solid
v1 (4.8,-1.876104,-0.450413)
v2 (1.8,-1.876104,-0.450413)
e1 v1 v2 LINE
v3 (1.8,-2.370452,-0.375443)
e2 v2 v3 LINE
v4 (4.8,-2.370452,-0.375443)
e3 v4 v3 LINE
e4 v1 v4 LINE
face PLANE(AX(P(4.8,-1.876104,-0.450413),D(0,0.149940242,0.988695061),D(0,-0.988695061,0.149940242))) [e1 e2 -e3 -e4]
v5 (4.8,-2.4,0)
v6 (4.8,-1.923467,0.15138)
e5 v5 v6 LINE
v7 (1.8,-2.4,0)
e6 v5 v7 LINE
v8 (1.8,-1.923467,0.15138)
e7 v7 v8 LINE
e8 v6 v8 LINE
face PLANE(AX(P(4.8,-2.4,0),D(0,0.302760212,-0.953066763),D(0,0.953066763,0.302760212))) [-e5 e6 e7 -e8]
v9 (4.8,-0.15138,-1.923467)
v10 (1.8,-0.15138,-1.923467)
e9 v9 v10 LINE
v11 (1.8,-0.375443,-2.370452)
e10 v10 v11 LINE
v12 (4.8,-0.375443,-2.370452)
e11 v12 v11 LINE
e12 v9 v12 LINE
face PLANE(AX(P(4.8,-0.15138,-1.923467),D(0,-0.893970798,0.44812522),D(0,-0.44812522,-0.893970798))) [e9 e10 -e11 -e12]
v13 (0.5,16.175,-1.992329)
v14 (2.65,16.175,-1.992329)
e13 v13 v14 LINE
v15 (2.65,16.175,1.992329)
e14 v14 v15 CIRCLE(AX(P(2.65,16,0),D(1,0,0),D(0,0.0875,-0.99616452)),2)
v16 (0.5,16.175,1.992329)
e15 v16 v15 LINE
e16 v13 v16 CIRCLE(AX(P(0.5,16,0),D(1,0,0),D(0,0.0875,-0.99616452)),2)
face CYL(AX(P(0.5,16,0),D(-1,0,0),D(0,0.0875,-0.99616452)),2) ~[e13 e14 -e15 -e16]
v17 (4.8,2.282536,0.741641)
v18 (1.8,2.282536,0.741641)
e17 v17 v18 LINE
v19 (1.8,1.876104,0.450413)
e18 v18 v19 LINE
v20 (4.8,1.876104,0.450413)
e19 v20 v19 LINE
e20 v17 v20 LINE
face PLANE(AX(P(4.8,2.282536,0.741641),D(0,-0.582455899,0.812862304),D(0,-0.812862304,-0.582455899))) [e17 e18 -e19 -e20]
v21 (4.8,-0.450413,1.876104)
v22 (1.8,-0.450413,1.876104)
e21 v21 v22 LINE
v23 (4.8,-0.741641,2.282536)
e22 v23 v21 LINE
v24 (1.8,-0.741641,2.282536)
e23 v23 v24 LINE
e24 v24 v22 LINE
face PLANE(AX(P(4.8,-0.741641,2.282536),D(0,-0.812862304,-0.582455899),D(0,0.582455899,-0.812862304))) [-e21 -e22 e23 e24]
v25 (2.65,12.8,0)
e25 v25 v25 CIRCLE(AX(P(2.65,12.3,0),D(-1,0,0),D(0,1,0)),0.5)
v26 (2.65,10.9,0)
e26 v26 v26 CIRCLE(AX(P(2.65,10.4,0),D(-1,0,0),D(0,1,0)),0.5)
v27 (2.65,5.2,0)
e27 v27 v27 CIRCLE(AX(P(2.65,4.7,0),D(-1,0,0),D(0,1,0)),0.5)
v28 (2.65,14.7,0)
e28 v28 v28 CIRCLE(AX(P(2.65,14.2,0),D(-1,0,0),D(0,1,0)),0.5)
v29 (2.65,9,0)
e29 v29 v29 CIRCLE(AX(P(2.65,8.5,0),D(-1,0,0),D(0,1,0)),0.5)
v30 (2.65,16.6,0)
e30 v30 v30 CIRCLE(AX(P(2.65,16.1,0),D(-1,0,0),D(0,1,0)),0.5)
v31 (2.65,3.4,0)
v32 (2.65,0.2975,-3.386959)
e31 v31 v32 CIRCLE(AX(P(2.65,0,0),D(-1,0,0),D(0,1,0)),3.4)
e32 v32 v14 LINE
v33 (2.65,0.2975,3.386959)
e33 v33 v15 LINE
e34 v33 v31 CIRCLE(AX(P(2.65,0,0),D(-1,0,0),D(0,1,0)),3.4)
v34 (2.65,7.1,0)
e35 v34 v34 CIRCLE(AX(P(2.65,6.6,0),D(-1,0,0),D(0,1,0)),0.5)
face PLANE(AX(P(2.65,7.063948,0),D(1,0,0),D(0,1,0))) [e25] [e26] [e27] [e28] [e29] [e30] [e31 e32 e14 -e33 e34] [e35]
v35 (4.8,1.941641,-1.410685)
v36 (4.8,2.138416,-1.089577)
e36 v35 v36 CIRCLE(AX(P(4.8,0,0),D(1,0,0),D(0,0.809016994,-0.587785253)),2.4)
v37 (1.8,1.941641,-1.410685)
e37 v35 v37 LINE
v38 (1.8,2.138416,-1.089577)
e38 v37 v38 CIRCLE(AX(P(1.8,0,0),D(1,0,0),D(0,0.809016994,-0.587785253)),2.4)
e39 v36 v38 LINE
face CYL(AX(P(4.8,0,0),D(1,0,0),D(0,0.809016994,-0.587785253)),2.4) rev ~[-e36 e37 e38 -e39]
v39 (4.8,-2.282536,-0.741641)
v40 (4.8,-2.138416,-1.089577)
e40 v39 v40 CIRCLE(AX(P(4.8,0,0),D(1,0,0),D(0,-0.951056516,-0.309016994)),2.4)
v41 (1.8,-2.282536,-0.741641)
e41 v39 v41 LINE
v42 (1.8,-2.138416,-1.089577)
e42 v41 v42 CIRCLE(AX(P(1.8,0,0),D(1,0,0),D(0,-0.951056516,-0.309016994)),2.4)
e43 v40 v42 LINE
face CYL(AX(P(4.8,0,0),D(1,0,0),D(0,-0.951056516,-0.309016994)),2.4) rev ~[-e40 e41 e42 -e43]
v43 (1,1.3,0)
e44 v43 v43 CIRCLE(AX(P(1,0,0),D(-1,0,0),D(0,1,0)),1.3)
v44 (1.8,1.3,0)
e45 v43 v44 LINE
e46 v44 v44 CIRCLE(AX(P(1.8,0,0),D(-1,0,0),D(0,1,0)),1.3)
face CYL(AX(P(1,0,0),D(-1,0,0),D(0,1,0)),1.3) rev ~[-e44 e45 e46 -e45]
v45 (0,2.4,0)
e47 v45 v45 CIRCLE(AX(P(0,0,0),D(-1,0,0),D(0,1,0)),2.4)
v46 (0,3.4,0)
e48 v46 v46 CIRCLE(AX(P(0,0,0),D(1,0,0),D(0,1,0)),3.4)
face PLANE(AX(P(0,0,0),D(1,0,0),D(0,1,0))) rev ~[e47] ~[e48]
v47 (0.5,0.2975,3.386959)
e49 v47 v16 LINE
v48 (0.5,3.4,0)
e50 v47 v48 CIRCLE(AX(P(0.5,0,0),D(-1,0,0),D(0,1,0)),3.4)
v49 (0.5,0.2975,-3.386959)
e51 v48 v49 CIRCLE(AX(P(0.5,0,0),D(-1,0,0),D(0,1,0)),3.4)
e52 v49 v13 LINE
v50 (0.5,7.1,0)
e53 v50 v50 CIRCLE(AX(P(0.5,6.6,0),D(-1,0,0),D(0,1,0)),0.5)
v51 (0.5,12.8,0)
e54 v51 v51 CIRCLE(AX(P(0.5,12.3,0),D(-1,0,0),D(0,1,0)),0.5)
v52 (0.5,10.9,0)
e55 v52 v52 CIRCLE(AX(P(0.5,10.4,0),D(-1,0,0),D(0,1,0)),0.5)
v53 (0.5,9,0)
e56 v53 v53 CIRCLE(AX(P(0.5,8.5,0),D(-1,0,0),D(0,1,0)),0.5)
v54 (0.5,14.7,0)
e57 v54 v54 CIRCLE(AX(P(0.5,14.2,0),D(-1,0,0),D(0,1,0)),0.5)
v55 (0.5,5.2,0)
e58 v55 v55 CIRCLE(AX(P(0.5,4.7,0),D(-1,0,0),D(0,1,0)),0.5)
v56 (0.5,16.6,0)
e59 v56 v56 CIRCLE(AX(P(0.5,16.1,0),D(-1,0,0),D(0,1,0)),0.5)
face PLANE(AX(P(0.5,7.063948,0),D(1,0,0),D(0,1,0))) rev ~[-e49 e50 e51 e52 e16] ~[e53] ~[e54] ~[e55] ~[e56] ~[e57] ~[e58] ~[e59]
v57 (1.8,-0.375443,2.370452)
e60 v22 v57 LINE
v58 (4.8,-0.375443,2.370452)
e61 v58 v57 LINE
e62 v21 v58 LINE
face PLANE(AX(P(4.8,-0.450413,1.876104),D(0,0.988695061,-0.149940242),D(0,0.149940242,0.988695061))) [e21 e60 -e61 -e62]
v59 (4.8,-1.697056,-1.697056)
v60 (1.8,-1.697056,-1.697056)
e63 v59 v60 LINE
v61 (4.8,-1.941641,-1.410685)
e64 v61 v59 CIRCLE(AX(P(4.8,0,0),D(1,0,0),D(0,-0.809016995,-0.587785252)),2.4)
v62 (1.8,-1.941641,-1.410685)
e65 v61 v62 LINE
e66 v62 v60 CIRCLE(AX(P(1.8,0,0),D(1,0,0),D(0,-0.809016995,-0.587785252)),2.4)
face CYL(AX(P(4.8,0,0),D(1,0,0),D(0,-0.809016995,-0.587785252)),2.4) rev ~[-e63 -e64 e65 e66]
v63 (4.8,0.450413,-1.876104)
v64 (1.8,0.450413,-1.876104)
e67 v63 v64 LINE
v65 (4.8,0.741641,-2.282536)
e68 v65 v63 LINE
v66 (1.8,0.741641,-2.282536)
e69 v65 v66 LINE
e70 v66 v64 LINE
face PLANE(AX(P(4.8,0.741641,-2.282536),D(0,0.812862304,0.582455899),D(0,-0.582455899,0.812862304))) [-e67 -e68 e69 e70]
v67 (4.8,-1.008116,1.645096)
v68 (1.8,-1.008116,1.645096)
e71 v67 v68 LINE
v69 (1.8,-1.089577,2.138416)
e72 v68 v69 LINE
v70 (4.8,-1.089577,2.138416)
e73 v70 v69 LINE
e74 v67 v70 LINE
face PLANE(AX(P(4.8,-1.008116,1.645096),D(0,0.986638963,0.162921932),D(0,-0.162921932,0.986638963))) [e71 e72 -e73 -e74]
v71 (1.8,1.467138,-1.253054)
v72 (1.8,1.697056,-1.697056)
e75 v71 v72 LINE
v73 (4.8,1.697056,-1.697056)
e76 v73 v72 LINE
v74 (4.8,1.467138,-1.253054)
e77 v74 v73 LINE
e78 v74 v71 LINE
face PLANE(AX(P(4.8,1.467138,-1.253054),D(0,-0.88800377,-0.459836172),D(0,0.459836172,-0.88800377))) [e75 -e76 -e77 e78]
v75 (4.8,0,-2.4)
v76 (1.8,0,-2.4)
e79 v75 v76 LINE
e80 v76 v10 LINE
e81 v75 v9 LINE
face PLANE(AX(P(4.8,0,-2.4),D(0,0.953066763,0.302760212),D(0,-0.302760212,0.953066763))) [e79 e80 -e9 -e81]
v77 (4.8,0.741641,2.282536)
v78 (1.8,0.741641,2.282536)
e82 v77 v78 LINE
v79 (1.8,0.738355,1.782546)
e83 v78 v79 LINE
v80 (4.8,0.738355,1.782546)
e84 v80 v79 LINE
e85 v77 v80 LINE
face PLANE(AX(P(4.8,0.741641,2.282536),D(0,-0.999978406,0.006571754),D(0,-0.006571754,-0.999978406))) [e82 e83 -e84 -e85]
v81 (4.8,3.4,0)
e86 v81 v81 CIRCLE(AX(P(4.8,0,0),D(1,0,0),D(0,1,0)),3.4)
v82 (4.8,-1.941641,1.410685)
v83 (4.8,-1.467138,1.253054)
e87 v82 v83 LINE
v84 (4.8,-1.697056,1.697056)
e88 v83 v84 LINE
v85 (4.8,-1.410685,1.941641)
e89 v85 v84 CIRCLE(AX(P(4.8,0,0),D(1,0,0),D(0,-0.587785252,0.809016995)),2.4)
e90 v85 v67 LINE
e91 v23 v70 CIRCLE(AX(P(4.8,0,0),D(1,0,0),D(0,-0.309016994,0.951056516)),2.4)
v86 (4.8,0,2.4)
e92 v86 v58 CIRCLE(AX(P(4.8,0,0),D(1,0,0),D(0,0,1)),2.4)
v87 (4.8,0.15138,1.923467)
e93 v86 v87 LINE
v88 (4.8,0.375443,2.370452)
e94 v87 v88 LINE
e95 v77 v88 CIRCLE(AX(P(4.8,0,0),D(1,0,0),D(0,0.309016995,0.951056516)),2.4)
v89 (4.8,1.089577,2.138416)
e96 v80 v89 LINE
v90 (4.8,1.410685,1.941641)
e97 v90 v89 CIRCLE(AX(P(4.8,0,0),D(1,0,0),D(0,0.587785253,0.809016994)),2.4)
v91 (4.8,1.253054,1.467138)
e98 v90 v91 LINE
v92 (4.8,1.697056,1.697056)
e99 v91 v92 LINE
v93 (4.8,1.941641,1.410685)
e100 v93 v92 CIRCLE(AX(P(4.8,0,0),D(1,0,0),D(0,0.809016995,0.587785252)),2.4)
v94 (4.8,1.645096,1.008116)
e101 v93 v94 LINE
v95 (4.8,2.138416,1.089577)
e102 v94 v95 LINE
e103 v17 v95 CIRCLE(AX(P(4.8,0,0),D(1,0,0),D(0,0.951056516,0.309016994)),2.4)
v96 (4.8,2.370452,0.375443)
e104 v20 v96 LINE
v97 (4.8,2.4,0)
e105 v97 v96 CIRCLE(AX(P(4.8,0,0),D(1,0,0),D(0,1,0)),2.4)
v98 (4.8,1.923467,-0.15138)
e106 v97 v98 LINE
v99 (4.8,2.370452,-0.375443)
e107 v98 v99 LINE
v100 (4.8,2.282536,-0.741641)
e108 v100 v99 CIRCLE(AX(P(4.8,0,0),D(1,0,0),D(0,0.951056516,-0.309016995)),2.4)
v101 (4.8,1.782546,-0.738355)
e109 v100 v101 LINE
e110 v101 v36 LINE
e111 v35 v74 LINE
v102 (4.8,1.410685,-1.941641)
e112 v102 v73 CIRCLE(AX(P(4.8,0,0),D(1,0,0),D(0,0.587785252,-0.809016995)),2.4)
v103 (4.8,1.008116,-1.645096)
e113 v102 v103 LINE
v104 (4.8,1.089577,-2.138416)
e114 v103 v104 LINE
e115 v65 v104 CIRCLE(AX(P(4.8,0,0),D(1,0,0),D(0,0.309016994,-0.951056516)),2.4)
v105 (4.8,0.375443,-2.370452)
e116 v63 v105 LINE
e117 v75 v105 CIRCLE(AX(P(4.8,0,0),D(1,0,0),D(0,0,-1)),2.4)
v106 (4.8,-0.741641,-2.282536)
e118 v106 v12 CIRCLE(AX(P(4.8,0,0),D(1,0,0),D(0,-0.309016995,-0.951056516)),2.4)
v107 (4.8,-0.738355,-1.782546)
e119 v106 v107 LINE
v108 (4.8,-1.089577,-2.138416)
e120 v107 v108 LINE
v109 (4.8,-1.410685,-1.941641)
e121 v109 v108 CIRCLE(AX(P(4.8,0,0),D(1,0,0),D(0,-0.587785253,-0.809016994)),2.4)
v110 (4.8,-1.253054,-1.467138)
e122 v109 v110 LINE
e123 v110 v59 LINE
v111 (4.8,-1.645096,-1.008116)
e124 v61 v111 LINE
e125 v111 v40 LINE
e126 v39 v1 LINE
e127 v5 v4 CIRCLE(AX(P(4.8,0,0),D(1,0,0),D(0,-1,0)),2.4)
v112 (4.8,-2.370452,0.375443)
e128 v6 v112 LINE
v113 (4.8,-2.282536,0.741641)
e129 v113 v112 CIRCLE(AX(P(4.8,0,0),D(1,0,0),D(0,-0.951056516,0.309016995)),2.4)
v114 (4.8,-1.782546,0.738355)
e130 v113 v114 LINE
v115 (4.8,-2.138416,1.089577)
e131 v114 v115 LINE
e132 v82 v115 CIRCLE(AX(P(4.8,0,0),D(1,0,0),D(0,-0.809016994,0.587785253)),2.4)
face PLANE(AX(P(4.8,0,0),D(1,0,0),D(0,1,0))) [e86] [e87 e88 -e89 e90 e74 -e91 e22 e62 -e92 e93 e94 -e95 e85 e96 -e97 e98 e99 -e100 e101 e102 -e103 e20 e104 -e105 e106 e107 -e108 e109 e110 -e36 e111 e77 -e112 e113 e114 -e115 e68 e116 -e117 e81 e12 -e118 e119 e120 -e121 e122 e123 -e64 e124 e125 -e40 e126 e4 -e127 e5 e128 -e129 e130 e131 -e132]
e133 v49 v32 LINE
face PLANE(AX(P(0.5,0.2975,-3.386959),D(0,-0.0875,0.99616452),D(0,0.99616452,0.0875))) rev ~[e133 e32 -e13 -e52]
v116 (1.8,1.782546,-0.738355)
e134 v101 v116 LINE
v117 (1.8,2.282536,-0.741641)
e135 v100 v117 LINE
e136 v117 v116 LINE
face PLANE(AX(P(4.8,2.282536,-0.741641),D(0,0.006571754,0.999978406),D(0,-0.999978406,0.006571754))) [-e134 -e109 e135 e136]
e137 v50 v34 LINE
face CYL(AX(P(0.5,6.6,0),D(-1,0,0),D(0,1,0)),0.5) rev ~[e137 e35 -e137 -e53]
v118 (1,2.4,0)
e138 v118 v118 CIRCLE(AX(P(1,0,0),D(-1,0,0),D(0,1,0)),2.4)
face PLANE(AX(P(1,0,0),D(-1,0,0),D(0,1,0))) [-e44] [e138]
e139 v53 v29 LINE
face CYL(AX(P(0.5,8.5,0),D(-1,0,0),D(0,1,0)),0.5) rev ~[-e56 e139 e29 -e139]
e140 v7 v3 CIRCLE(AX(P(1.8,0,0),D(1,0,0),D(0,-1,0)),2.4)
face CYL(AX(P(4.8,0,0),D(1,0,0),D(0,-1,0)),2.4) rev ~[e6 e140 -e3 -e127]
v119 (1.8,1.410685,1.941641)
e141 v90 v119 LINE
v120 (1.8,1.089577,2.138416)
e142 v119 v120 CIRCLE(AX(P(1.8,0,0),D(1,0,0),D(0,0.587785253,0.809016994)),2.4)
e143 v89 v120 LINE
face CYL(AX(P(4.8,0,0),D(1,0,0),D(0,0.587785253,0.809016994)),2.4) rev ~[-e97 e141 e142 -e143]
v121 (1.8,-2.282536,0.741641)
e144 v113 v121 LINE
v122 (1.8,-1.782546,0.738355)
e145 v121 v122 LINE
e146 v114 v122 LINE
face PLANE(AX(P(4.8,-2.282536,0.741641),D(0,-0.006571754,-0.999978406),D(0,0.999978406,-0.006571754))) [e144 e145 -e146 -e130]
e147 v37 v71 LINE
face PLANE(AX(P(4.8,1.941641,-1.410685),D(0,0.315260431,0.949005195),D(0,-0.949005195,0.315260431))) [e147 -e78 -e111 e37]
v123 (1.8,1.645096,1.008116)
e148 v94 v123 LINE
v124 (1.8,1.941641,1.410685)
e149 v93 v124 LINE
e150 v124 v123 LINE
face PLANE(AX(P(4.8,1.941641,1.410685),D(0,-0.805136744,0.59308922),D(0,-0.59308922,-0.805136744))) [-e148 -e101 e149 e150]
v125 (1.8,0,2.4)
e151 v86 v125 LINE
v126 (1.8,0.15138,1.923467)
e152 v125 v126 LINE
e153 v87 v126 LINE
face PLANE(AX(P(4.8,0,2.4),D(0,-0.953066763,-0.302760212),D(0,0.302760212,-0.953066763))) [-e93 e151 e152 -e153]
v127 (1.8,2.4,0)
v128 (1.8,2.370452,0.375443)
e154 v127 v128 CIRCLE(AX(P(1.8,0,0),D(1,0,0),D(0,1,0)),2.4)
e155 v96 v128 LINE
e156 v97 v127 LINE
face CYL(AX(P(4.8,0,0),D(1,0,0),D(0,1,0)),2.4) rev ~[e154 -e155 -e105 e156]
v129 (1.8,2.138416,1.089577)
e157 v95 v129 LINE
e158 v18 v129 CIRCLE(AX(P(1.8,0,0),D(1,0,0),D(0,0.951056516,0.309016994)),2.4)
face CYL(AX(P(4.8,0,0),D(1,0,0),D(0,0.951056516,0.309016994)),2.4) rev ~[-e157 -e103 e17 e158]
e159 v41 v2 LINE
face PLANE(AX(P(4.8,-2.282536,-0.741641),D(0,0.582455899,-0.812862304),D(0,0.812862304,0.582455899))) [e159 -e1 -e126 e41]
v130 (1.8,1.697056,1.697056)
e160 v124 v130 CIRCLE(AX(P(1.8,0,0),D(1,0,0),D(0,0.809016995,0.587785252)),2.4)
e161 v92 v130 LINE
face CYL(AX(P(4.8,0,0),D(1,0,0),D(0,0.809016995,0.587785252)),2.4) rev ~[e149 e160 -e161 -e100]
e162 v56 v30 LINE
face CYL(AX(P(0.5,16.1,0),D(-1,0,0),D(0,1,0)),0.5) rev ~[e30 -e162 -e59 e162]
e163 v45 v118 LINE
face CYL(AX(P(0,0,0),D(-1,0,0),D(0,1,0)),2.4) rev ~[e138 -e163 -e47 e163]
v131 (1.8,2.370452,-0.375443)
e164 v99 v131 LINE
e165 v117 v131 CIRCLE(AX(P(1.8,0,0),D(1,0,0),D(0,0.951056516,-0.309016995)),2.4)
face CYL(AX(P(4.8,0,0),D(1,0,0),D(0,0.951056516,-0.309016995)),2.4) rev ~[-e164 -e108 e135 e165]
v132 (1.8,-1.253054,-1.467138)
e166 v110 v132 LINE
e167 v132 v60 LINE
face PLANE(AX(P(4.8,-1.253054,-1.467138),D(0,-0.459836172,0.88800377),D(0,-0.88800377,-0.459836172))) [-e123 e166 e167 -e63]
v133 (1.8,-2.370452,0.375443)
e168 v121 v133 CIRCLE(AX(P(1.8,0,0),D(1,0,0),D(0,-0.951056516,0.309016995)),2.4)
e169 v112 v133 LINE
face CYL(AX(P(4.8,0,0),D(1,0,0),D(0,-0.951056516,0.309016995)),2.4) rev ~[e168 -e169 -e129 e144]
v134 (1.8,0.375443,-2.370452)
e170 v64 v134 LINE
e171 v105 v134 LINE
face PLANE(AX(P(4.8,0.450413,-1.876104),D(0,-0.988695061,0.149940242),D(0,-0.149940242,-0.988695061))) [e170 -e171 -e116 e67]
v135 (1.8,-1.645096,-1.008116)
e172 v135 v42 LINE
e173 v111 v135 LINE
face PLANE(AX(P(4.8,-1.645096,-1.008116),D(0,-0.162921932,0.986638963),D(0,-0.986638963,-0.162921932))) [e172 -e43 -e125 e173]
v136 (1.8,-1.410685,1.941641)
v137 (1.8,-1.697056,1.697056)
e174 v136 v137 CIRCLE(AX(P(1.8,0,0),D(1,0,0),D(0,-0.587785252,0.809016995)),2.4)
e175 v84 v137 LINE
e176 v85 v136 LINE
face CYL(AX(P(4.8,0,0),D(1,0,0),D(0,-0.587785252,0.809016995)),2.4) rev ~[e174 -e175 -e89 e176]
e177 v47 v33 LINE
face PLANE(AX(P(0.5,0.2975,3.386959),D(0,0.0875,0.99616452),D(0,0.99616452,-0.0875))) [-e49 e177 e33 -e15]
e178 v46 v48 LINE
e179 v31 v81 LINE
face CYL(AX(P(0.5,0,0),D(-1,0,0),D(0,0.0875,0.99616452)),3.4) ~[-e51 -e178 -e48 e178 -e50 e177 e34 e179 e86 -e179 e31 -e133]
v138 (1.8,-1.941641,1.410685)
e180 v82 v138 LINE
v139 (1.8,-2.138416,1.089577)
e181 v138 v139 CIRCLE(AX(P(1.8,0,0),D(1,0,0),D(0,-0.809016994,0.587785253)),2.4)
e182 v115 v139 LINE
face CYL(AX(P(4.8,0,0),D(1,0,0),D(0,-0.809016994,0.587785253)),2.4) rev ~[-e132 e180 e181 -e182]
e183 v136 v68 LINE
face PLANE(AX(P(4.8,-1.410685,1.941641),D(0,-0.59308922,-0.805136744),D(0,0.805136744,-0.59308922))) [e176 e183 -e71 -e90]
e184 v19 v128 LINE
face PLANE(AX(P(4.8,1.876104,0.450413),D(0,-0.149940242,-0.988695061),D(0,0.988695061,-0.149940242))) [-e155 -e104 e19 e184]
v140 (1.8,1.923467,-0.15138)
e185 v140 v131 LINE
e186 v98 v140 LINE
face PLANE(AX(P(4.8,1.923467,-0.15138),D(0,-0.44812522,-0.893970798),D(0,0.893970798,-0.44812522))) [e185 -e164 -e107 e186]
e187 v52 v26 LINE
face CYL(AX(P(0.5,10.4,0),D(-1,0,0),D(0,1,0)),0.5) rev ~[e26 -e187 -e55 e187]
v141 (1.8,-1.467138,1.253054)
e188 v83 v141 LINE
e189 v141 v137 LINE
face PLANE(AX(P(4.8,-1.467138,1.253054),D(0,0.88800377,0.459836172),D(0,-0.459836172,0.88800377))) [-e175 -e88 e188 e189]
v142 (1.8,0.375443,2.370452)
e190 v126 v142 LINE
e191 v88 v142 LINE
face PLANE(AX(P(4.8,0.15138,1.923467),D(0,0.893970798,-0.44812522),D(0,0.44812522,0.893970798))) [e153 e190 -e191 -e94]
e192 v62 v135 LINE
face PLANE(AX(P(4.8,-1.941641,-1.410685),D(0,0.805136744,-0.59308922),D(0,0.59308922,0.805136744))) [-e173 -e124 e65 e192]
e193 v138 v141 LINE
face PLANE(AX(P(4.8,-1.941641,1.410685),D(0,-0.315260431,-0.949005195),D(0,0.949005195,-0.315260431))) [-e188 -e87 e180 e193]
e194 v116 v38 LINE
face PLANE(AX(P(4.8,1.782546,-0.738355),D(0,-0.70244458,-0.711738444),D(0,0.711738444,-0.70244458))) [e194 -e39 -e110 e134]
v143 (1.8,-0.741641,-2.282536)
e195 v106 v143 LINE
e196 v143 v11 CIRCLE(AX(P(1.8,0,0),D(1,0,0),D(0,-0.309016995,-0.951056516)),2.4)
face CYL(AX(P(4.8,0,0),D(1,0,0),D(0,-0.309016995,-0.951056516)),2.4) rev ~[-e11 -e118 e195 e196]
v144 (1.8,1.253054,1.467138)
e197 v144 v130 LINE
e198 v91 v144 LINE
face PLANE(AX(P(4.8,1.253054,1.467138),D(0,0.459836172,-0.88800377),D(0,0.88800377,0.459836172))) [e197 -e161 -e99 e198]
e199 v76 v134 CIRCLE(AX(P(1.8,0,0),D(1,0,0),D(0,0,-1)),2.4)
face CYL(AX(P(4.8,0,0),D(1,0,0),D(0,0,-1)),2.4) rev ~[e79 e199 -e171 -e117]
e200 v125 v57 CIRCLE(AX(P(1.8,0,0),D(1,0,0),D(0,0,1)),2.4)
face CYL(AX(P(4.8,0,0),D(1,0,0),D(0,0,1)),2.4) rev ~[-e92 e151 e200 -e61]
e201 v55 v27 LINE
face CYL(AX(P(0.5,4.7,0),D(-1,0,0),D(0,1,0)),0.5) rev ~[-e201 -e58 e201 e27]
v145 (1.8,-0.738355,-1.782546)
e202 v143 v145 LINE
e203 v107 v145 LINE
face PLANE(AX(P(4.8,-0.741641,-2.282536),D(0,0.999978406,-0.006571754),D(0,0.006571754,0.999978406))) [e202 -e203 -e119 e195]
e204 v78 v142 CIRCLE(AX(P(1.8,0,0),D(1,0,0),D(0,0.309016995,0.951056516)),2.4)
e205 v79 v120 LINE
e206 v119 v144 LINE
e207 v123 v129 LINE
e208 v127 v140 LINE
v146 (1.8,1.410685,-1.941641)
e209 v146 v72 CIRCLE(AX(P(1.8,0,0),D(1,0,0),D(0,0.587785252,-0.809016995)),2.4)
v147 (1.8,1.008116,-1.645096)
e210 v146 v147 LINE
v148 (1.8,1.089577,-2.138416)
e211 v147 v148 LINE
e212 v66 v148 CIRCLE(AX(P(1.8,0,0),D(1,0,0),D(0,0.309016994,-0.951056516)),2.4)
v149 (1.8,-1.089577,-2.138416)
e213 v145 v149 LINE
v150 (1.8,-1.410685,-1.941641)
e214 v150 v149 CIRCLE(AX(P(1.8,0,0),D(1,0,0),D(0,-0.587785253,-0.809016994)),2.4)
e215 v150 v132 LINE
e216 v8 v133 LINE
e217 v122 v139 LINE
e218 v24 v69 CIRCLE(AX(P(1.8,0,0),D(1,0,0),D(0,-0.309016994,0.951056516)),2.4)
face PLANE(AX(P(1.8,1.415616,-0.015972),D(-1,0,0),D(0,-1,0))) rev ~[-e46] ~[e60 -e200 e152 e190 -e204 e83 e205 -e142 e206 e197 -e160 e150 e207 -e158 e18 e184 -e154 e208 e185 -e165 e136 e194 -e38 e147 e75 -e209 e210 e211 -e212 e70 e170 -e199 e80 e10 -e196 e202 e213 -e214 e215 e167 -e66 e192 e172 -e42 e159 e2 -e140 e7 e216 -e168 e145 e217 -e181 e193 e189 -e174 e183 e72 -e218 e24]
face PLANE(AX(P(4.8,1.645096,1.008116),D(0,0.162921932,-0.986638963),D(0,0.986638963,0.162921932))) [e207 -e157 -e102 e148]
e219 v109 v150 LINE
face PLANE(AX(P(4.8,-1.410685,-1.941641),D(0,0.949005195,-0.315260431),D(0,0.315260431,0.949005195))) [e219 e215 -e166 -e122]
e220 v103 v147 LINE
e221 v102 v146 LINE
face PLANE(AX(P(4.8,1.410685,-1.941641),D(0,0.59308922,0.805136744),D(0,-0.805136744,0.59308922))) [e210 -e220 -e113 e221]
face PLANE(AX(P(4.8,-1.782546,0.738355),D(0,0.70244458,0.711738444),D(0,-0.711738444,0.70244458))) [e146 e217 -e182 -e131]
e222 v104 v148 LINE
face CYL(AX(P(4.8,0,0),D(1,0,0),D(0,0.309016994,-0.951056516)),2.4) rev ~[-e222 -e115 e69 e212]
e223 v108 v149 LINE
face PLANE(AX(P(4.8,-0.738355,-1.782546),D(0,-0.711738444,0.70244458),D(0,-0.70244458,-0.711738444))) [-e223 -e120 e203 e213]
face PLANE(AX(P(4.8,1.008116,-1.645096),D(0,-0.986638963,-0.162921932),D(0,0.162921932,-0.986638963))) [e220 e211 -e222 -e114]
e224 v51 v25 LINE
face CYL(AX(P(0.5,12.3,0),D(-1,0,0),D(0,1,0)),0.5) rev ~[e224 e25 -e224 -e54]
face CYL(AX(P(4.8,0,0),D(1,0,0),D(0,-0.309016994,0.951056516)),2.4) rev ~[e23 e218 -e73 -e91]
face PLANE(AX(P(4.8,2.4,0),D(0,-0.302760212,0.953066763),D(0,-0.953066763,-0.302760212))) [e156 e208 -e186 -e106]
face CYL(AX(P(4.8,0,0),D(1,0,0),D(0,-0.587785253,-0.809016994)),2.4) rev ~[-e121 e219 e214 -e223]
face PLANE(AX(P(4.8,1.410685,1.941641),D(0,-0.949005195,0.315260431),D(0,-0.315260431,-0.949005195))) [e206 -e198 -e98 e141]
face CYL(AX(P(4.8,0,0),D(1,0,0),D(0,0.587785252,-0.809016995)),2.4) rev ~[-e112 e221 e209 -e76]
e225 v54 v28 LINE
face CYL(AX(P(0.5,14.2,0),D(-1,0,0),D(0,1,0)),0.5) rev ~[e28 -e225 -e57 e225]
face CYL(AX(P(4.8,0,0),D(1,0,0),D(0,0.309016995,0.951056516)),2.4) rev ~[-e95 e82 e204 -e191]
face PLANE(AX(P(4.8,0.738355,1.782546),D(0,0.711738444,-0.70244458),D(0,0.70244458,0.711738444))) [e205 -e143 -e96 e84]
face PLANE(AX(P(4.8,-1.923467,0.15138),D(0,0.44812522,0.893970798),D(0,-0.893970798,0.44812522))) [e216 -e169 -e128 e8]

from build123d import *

# Parameters (mm, degrees)
SKETCH079_R        = 3.4
PAD047_DEPTH       = 4.8
PAD048_DEPTH       = 2.15
POCKET033_DEPTH    = 3
POLARPATTERN_COUNT = 20
SKETCH082_R        = 2.4
POCKET034_DEPTH    = 1
SKETCH083_R        = 1.3
POCKET035_DEPTH    = 5
SKETCH084_R        = 0.5
POCKET036_DEPTH    = 5


with BuildPart() as part:
    # Sketch079 → Pad047 (new body)
    with BuildSketch(Plane.YZ):
        Circle(SKETCH079_R)
    extrude(amount=PAD047_DEPTH)

    # Sketch080 → Pad048 (join)
    with BuildSketch(Plane.YZ.offset(0.5)):
        with BuildLine():
            ThreePointArc((16.175, -1.9923290391), (18, 0), (16.175, 1.9923290391))
            Line((0.2975, 3.3869593665), (16.175, 1.9923290391))
            ThreePointArc((0.2975, 3.3869593665), (-3.4, 0), (0.2975, -3.3869593665))
            Line((0.2975, -3.3869593665), (16.175, -1.9923290391))
        make_face()
    extrude(amount=PAD048_DEPTH)

    # Sketch081 (on Face10 of Pad048) → Pocket033 (cut)
    with BuildSketch(Plane.YZ.offset(4.8)):
        with BuildLine():
            Line((2.4, 0), (1.9234666187, -0.1513801059))
            Line((1.9234666187, -0.1513801059), (2.3704520174, -0.3754427161))
            Line((0, 0), (2.3704520174, -0.3754427161))
            Line((2.3704520174, 0.3754427161), (0, 0))
            ThreePointArc((2.4, 0), (2.392601601, 0.1883018297), (2.3704520174, 0.3754427161))
        make_face()
    pocket033 = extrude(amount=-POCKET033_DEPTH, mode=Mode.SUBTRACT)

    # PolarPattern: Pocket033 ×20 about axis
    polarpattern_axis = Axis((4.8, 0, 0), (1, 0, 0))
    for i in range(1, POLARPATTERN_COUNT):
        add(pocket033.rotate(polarpattern_axis, i * 360 / POLARPATTERN_COUNT), mode=Mode.SUBTRACT)

    # Sketch082 (on Face2 of PolarPattern) → Pocket034 (cut)
    with BuildSketch(Plane(origin=(0, 0, 0), x_dir=(0, 1, 0), z_dir=(-1, 0, 0))):
        Circle(SKETCH082_R)
    extrude(amount=-POCKET034_DEPTH, mode=Mode.SUBTRACT)

    # Sketch083 (on Face10 of Pocket034) → Pocket035 (cut)
    with BuildSketch(Plane(origin=(1, 0, 0), x_dir=(0, 1, 0), z_dir=(-1, 0, 0))):
        Circle(SKETCH083_R)
    extrude(amount=-POCKET035_DEPTH, mode=Mode.SUBTRACT)

    # Sketch084 (on Face3 of Pocket035) → Pocket036 (cut)
    with BuildSketch(Plane(origin=(0.5, 0, 0), x_dir=(0, 1, 0), z_dir=(-1, 0, 0))):
        with Locations((4.7, 0)):
            Circle(SKETCH084_R)
        with Locations((6.6, 0)):
            Circle(SKETCH084_R)
        with Locations((8.5, 0)):
            Circle(SKETCH084_R)
        with Locations((10.4, 0)):
            Circle(SKETCH084_R)
        with Locations((12.3, 0)):
            Circle(SKETCH084_R)
        with Locations((14.2, 0)):
            Circle(SKETCH084_R)
        with Locations((16.1, 0)):
            Circle(SKETCH084_R)
    extrude(amount=-POCKET036_DEPTH, mode=Mode.SUBTRACT)


solid = part.part
